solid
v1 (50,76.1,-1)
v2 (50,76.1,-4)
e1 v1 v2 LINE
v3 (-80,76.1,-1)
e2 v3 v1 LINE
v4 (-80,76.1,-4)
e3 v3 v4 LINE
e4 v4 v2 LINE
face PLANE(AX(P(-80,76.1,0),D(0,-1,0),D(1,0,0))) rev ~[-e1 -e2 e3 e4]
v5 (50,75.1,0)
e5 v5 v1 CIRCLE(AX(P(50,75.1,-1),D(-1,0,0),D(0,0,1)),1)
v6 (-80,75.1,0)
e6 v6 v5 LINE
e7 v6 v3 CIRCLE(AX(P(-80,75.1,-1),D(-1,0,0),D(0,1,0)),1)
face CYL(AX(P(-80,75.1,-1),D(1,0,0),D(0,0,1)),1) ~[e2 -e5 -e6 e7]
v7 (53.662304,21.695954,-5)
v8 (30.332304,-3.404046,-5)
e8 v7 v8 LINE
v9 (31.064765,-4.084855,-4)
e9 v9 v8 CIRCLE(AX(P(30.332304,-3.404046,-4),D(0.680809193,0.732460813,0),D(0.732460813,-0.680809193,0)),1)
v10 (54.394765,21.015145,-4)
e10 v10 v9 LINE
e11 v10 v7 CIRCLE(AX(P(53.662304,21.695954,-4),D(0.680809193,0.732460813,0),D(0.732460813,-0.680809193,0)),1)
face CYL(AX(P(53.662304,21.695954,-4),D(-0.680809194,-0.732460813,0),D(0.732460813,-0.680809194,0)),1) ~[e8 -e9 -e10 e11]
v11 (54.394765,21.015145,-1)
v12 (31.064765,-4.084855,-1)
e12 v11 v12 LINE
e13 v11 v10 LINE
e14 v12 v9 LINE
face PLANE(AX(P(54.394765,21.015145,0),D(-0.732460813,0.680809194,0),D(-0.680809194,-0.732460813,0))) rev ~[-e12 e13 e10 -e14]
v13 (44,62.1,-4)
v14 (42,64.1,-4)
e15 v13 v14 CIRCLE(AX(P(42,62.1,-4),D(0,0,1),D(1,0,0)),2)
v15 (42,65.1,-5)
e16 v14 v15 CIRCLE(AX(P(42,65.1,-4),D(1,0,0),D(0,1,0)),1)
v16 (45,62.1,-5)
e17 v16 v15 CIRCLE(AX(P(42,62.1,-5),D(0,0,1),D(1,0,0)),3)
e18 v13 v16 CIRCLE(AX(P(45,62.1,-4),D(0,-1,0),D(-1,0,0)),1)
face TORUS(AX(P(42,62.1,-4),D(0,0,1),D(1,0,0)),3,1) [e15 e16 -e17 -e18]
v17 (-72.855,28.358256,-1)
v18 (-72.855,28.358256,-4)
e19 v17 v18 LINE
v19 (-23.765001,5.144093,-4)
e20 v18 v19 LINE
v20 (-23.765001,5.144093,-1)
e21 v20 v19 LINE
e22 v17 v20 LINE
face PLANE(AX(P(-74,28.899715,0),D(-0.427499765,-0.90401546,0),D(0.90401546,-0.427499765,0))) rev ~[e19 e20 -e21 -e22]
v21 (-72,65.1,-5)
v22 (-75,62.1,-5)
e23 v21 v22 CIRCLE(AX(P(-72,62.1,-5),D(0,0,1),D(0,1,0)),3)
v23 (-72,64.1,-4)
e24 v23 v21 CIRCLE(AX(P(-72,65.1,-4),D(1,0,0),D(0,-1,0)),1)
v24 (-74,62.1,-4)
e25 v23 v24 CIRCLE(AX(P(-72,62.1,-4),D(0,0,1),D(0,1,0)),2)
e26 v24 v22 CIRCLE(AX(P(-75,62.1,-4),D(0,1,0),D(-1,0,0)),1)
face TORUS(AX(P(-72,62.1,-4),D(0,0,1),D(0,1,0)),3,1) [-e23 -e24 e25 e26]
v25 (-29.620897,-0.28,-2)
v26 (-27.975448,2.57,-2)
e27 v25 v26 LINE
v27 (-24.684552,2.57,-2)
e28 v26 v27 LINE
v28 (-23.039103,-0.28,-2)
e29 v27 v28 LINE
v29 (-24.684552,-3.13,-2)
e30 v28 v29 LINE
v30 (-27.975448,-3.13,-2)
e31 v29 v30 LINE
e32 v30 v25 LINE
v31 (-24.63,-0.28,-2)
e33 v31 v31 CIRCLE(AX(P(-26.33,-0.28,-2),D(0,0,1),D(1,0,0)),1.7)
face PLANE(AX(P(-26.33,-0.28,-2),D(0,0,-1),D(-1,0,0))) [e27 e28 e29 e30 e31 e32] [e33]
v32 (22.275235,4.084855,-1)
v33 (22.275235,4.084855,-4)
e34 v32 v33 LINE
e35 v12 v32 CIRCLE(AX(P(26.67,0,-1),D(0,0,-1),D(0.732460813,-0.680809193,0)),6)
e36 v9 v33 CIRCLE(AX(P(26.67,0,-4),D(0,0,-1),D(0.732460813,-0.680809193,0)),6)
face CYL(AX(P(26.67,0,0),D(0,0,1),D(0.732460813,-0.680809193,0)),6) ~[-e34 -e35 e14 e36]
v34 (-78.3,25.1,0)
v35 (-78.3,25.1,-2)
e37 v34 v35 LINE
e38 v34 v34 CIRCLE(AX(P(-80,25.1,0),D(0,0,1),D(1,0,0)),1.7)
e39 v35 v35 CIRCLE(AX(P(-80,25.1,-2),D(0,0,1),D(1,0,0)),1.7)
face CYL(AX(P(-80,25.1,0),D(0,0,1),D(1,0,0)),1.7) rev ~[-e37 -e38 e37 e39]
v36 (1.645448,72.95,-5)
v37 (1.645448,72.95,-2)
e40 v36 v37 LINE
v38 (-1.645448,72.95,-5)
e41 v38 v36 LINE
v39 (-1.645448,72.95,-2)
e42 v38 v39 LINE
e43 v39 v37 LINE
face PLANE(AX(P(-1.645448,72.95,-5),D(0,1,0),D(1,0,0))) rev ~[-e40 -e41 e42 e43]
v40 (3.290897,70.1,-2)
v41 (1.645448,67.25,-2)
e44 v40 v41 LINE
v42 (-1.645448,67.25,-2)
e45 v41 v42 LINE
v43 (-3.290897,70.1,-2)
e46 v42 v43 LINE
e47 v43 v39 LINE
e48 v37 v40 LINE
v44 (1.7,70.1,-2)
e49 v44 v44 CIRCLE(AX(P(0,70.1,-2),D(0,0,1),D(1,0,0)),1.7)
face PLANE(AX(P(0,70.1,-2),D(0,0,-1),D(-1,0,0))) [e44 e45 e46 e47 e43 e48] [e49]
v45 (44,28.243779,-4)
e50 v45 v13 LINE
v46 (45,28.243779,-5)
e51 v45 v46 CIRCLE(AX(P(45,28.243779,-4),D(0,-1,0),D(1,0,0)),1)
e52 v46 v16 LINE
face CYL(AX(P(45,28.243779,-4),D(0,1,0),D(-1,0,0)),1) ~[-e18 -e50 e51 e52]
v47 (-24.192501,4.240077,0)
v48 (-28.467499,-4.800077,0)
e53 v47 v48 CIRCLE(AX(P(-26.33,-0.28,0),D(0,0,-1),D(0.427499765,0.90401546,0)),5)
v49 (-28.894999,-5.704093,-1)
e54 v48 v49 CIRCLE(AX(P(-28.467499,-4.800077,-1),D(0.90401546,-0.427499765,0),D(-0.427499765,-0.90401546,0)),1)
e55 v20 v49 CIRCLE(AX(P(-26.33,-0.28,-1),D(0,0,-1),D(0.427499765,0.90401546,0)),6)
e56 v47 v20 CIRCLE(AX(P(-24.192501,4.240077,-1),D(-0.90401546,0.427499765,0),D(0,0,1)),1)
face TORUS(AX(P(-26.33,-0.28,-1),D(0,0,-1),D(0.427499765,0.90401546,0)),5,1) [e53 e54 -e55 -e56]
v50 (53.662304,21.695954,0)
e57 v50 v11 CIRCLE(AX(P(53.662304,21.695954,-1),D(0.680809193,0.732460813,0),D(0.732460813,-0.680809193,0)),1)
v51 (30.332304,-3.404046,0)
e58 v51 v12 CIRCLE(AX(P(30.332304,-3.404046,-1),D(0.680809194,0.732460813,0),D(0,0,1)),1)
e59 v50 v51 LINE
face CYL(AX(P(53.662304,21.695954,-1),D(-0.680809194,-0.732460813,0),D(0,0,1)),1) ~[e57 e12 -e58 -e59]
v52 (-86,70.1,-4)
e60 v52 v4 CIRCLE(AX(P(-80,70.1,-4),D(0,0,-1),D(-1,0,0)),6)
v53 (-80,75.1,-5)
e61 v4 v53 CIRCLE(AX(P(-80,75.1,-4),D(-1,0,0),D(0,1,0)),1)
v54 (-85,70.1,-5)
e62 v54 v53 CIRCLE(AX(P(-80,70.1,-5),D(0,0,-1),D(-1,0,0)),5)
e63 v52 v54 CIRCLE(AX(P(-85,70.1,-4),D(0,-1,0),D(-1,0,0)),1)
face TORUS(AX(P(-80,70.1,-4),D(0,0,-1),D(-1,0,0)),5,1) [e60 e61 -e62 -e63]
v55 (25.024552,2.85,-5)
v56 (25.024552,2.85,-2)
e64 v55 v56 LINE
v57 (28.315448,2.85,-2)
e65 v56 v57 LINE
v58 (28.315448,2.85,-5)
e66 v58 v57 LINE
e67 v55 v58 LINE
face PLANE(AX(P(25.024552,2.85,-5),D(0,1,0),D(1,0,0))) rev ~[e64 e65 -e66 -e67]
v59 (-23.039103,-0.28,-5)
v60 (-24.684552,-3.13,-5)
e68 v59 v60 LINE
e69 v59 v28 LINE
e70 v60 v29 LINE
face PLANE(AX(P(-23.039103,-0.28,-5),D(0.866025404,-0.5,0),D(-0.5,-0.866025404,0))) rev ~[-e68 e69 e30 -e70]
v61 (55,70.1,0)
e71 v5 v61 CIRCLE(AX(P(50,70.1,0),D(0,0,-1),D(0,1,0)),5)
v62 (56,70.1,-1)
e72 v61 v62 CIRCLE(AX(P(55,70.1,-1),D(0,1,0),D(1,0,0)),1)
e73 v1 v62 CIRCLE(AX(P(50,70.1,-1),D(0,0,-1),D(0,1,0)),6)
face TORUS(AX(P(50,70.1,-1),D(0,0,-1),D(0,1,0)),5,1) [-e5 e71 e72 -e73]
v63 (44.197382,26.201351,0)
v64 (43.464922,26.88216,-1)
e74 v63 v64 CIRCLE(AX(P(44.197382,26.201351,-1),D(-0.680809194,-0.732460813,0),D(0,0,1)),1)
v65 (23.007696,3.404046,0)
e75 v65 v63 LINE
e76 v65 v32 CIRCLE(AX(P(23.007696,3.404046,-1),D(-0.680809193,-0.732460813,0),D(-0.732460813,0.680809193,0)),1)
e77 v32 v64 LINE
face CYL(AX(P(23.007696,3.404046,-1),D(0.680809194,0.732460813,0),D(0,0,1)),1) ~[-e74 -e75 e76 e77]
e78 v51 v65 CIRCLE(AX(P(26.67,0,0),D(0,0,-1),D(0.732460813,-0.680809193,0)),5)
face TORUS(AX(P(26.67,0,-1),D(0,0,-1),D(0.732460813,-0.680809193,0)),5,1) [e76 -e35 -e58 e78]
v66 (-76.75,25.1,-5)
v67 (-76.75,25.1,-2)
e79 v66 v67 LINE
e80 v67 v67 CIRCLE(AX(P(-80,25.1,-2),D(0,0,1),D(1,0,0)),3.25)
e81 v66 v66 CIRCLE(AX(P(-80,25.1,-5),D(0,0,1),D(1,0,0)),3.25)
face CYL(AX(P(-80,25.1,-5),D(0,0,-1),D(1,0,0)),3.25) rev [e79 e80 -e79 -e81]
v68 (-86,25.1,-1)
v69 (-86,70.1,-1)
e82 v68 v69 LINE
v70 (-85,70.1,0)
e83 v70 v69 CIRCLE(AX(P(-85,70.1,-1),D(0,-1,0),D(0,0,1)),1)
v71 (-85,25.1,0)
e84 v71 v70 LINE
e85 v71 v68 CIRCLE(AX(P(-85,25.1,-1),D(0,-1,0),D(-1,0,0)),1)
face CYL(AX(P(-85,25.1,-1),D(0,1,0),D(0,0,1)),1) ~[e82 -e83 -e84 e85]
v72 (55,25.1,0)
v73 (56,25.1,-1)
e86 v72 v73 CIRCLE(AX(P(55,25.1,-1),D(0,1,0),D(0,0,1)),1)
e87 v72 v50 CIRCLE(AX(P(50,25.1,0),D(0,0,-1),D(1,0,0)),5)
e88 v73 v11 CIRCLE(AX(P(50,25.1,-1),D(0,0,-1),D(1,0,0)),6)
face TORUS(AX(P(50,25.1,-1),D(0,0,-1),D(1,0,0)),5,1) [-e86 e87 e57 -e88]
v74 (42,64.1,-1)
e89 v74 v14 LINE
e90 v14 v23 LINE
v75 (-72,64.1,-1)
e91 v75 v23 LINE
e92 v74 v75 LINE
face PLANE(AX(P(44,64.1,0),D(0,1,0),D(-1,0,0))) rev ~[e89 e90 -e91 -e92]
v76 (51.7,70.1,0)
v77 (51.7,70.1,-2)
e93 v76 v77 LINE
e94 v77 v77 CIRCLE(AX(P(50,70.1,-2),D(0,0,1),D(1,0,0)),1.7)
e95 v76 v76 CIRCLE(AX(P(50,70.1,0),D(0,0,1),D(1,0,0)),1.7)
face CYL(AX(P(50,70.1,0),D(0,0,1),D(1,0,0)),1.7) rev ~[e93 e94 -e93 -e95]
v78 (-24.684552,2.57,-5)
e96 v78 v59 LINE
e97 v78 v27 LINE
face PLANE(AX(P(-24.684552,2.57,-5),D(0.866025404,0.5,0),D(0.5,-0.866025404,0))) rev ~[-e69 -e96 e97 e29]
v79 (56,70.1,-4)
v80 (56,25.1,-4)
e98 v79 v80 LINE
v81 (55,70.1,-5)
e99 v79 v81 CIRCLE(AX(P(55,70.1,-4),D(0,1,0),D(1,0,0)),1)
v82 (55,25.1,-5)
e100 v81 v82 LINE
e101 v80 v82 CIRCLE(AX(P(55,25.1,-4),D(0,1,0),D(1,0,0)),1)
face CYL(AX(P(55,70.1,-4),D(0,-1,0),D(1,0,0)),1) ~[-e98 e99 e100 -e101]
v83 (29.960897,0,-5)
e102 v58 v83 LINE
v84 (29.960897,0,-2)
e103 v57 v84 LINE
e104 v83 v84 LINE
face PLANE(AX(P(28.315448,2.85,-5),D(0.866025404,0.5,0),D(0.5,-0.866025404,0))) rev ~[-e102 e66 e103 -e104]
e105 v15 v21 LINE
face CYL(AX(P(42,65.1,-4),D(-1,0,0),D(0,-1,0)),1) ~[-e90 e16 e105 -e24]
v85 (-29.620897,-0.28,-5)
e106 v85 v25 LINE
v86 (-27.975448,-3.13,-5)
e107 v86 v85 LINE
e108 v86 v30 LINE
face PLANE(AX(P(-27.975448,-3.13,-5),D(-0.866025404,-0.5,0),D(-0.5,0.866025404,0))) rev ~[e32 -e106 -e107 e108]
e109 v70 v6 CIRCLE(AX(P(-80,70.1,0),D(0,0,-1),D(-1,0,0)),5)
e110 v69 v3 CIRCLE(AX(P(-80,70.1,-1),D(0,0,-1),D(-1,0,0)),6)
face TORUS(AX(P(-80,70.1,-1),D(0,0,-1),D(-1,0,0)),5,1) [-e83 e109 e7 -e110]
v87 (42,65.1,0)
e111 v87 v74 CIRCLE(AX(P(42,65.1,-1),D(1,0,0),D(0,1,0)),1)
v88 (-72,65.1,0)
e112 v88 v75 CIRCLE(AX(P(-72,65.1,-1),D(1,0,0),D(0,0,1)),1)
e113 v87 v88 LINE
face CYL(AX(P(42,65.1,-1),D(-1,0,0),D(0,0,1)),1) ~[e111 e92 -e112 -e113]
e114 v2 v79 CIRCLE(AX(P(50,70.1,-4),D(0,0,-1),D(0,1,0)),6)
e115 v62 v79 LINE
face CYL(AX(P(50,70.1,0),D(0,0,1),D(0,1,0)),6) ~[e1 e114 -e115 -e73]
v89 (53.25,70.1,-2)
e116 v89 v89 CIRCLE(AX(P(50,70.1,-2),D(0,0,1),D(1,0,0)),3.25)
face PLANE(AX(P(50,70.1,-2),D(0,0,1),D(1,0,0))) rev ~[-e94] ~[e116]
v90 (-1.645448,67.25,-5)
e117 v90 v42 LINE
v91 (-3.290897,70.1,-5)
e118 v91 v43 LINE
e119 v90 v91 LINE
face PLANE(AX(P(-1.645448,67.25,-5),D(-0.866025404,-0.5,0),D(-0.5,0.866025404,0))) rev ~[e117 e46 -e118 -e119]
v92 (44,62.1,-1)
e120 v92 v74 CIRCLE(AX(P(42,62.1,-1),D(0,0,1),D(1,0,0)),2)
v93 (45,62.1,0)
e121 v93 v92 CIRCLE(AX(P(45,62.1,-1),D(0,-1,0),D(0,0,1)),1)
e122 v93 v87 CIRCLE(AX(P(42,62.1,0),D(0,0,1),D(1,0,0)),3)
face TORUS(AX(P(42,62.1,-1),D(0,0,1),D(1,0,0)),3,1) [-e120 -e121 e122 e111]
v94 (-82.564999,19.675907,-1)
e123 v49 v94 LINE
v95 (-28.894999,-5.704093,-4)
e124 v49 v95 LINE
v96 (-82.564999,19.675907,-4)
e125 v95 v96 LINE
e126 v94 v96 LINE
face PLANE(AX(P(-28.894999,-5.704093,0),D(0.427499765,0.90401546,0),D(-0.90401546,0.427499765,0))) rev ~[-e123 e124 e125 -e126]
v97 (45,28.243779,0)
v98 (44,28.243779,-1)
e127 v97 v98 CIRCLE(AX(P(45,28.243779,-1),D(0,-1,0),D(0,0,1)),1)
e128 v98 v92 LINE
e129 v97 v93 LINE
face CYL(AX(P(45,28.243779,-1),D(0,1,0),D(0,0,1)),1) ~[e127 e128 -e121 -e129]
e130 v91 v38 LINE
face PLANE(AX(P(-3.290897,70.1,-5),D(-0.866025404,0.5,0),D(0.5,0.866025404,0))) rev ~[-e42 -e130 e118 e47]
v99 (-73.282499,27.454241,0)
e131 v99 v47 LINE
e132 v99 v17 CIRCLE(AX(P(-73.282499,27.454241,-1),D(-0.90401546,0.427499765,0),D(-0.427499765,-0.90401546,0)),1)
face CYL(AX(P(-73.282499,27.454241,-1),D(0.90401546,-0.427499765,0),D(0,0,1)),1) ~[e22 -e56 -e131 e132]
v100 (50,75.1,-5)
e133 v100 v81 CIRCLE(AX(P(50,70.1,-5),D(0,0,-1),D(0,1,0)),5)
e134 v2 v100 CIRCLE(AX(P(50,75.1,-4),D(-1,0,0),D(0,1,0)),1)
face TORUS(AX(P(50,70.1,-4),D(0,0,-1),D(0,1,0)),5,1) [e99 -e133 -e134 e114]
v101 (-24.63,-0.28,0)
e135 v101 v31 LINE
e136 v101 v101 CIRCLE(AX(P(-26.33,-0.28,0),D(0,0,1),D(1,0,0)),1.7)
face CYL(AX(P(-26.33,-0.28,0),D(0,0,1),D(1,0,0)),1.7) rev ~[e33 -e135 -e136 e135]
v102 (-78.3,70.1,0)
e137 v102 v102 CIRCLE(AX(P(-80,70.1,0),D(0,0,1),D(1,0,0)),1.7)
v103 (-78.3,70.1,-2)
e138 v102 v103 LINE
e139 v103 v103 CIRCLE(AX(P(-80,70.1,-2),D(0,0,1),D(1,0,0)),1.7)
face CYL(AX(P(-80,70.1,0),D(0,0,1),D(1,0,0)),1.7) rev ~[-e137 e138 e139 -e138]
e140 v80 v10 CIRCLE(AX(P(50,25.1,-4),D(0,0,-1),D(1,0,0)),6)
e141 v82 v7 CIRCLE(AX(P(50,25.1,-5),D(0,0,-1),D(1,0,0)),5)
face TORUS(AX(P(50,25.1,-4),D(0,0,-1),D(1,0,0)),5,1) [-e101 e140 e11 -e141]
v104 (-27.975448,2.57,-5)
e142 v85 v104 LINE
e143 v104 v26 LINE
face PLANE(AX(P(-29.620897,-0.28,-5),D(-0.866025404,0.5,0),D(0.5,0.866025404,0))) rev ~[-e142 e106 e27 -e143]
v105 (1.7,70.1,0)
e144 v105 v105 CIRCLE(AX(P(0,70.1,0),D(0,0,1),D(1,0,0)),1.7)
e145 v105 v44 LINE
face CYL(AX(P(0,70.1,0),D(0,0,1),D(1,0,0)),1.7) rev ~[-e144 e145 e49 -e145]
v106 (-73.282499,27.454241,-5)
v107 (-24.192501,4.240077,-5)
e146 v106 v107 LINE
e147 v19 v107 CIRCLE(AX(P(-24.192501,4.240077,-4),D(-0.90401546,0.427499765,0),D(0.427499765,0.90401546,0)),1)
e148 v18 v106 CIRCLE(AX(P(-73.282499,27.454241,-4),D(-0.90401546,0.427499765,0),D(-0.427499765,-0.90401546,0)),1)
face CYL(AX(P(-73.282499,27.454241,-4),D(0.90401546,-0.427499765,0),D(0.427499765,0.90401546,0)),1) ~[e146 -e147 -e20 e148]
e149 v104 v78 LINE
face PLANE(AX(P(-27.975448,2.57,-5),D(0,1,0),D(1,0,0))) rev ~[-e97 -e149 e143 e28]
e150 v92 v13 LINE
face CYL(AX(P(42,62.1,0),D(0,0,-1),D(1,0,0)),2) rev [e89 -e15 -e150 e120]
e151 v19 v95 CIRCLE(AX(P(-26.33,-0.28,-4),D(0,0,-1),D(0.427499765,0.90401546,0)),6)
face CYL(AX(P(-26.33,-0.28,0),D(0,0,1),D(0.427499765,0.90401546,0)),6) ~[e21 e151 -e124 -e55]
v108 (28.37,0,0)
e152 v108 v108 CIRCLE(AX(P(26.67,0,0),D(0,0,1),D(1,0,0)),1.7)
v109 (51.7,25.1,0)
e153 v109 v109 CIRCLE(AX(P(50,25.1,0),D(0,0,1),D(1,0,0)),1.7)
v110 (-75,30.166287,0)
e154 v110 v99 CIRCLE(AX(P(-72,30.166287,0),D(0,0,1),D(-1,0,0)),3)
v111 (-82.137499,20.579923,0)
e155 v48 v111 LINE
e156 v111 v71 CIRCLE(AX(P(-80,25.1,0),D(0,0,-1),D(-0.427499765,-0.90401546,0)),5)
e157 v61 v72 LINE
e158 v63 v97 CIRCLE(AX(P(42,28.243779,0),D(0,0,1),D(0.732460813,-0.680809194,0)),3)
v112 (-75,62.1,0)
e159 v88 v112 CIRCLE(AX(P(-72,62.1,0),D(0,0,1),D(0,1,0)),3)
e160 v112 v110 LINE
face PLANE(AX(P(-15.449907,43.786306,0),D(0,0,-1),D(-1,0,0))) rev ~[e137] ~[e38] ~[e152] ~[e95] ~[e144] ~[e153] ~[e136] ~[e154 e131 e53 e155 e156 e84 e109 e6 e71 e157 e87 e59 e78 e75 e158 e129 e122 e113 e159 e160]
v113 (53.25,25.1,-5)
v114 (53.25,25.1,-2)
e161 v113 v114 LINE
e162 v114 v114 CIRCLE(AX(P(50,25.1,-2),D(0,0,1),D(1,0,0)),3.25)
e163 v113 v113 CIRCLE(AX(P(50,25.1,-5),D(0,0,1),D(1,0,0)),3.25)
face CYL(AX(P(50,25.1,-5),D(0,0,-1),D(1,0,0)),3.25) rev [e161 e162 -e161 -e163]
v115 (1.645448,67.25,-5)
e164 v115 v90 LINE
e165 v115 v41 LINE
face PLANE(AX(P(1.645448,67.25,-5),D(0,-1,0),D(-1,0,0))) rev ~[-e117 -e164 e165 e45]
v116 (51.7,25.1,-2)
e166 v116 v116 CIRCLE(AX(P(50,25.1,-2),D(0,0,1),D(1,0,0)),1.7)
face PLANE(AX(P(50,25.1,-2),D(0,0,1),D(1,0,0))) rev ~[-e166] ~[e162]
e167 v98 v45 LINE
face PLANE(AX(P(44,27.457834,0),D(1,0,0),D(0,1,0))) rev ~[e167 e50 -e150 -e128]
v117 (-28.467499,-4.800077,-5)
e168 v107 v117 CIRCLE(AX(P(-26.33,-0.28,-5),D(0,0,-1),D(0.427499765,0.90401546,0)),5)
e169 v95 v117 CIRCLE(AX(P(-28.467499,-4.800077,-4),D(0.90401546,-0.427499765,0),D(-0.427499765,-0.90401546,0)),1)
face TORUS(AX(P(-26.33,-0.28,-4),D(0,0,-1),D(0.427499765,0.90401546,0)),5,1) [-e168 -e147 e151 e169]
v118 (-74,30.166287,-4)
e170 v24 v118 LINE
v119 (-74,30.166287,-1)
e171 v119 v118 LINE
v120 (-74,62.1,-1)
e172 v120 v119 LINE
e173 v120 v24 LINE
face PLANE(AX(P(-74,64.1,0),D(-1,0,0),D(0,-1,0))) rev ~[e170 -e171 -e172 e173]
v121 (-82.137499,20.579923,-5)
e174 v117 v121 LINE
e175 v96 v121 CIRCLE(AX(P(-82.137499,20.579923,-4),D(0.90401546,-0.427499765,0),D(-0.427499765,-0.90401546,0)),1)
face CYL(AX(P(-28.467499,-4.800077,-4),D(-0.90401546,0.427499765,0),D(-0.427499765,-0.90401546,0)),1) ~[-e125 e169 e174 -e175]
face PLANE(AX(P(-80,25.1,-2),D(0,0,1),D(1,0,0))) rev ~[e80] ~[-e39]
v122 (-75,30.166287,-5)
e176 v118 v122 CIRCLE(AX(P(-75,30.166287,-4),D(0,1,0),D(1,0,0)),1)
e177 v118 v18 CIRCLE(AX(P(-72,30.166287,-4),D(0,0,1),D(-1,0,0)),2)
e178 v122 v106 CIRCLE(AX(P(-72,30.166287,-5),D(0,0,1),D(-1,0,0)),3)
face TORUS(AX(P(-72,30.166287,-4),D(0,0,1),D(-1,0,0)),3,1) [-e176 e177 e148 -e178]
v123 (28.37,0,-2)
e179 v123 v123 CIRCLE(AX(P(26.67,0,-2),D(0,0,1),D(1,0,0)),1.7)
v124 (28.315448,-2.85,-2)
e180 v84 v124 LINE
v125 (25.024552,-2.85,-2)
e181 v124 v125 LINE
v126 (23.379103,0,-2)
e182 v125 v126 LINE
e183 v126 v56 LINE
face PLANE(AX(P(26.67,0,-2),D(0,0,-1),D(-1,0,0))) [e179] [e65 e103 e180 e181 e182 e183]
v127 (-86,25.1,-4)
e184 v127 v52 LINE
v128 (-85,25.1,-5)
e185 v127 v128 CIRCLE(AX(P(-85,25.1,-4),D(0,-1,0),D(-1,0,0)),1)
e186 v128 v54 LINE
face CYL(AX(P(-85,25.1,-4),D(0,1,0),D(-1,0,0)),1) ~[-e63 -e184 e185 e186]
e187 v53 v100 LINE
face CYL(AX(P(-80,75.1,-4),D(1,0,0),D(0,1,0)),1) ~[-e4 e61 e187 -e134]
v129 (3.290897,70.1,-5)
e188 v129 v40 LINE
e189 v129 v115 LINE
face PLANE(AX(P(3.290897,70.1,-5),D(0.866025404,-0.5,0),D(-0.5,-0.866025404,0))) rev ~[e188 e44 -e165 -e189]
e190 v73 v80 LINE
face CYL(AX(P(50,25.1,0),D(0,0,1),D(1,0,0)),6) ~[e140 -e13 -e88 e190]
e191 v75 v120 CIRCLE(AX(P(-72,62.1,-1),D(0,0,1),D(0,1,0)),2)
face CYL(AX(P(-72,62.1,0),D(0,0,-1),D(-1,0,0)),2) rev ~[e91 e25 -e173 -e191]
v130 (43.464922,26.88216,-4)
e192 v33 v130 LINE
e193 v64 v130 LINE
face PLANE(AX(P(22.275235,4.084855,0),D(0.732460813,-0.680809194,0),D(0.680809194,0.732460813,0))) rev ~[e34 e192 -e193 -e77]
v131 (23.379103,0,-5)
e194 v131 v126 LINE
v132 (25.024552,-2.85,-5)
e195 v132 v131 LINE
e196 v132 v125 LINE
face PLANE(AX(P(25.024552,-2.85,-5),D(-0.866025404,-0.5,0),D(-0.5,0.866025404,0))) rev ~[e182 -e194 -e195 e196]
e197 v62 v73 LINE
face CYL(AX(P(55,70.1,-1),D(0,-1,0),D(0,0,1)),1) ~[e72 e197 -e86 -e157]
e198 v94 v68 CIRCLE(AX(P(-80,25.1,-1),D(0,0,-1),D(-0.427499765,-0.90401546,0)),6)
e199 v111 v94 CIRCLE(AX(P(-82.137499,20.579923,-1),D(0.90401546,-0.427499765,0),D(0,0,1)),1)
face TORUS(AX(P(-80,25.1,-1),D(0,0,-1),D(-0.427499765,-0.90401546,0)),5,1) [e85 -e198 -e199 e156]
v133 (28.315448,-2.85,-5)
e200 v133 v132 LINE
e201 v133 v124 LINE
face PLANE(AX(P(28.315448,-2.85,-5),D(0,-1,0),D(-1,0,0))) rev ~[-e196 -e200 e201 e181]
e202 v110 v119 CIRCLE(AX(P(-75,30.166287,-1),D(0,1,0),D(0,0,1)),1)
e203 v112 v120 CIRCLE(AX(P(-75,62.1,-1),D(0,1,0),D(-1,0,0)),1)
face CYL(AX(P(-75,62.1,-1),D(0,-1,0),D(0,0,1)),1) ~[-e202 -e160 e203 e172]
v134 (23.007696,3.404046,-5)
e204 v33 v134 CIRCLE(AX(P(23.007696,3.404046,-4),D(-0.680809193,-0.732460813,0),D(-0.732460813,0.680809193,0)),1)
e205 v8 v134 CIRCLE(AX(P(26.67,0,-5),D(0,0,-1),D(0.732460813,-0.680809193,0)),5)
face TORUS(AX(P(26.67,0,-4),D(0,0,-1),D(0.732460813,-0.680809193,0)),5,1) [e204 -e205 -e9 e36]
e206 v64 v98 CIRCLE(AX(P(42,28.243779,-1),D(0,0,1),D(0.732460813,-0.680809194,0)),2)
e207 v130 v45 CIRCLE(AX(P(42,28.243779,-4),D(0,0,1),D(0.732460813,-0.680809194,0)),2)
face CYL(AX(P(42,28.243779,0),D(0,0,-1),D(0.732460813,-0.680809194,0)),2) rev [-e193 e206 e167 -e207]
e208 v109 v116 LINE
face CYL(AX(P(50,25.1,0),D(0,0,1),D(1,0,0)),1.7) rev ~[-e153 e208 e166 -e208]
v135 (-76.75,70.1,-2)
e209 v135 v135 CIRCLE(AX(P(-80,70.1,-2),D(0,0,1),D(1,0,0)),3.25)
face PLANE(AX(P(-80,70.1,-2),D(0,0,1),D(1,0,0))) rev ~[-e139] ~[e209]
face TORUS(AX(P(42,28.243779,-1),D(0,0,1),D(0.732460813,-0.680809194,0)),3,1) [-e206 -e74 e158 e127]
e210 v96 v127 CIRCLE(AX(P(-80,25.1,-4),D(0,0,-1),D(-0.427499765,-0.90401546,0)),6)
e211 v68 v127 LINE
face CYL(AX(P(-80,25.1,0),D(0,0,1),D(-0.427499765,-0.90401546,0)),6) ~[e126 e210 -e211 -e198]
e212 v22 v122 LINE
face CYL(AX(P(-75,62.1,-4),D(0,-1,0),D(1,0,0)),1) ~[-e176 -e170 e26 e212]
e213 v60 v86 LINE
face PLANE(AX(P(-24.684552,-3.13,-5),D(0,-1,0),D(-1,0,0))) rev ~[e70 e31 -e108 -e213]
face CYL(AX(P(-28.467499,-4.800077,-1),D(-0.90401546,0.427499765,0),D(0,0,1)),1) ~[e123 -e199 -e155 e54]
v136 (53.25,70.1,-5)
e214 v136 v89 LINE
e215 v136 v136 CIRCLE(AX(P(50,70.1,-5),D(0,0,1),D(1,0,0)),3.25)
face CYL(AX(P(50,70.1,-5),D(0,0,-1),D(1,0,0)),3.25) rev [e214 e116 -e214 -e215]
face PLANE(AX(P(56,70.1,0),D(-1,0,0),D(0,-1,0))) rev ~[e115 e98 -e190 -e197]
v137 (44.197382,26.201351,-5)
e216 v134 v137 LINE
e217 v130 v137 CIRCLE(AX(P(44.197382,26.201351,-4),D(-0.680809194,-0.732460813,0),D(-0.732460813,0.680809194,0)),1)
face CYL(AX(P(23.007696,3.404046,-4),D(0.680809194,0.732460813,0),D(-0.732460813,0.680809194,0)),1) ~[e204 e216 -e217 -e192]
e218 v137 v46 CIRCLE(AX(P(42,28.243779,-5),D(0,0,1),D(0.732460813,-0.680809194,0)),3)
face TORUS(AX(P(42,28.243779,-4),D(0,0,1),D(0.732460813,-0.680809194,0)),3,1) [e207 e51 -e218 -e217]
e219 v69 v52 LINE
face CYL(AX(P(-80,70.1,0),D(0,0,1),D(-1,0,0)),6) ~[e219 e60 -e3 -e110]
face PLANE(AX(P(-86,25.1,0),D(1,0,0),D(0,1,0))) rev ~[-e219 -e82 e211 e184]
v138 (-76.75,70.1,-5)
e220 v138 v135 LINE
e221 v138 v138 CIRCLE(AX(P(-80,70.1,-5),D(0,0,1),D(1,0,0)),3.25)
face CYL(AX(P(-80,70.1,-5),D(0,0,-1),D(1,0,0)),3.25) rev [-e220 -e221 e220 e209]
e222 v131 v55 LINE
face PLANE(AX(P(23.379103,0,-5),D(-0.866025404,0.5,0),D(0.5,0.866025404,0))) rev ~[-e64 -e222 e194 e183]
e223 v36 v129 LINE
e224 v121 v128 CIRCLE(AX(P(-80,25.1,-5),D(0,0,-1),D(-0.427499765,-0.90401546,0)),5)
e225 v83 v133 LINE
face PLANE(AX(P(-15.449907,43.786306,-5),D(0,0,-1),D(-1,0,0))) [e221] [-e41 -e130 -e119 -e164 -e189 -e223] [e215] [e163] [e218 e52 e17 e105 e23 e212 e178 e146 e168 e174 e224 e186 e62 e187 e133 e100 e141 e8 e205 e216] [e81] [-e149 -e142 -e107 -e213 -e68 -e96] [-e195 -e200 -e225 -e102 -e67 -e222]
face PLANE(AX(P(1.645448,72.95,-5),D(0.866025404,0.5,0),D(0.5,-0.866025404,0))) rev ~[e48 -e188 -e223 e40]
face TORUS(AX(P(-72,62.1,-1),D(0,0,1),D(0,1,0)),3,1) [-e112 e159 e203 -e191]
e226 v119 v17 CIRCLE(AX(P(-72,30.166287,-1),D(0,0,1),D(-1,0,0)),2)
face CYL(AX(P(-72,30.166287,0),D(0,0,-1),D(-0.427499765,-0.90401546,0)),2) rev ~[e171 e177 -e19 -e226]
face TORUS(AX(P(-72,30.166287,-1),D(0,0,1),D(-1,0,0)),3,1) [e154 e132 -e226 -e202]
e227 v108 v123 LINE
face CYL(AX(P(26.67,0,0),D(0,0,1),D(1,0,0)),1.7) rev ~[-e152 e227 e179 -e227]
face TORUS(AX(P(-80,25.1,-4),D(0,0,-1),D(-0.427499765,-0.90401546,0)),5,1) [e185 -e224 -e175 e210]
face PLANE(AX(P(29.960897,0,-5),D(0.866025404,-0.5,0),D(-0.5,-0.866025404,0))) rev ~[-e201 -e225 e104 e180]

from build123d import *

# Parameters (mm, degrees)
ESQUISSE2_R             = 1.7
BOSS_EXTRU_1_DEPTH      = 5
ENL_V_START             = -5
ESQUISSE3_R             = 3.25
ENL_V_MAT_EXTRU_1_DEPTH = 3
CONG_1_R                = 2
CONG_2_R                = 1


with BuildPart() as part:
    # Esquisse2 → Boss.-Extru.1 (new body)
    with BuildSketch(Plane.XY):
        with BuildLine():
            Line((-80, 76.1), (50, 76.1))
            ThreePointArc((50, 76.1), (54.242640687, 74.342640687), (56, 70.1))
            Line((56, 70.1), (56, 25.1))
            ThreePointArc((56, 25.1), (55.584289984, 22.905528452), (54.394764876, 21.015144839))
            Line((54.394764876, 21.015144839), (31.064764876, -4.084855161))
            ThreePointArc((31.064764876, -4.084855161), (22.585144839, -4.394764876), (22.275235124, 4.084855161))
            Line((22.275235124, 4.084855161), (44, 27.457834089))
            Line((44, 27.457834089), (44, 64.1))
            Line((44, 64.1), (-74, 64.1))
            Line((-74, 64.1), (-74, 31.1))
            Line((-74, 31.1), (-74, 28.899715343))
            Line((-74, 28.899715343), (-23.765001412, 5.144092758))
            ThreePointArc((-23.765001412, 5.144092758), (-20.905907242, -2.844998588), (-28.894998588, -5.704092758))
            Line((-28.894998588, -5.704092758), (-82.564998588, 19.675907242))
            ThreePointArc((-82.564998588, 19.675907242), (-85.069023157, 21.889859156), (-86, 25.1))
            Line((-86, 25.1), (-86, 70.1))
            ThreePointArc((-86, 70.1), (-84.242640687, 74.342640687), (-80, 76.1))
        make_face()
        with Locations((0, 70.1)):
            Circle(ESQUISSE2_R, mode=Mode.SUBTRACT)
        with Locations((-26.33, -0.28)):
            Circle(ESQUISSE2_R, mode=Mode.SUBTRACT)
        with Locations((26.67, 0)):
            Circle(ESQUISSE2_R, mode=Mode.SUBTRACT)
        with Locations((-80, 25.1)):
            Circle(ESQUISSE2_R, mode=Mode.SUBTRACT)
        with Locations((50, 25.1)):
            Circle(ESQUISSE2_R, mode=Mode.SUBTRACT)
        with Locations((50, 70.1)):
            Circle(ESQUISSE2_R, mode=Mode.SUBTRACT)
        with Locations((-80, 70.1)):
            Circle(ESQUISSE2_R, mode=Mode.SUBTRACT)
    extrude(amount=-BOSS_EXTRU_1_DEPTH)

    # Esquisse3 → Enlèv. mat.-Extru.1 (cut)
    with BuildSketch(Plane.XY.offset(ENL_V_START)):
        with Locations((-80, 70.1)):
            Circle(ESQUISSE3_R)
        with Locations((-80, 25.1)):
            Circle(ESQUISSE3_R)
        with Locations((50, 25.1)):
            Circle(ESQUISSE3_R)
        with Locations((50, 70.1)):
            Circle(ESQUISSE3_R)
        Polygon((-27.975448267, 2.57), (-24.684551733, 2.57), (-23.039103466, -0.28), (-24.684551733, -3.13), (-27.975448267, -3.13), (-29.620896534, -0.28), align=None)
        Polygon((25.024551733, 2.85), (28.315448267, 2.85), (29.960896534, 0), (28.315448267, -2.85), (25.024551733, -2.85), (23.379103466, 0), align=None)
        Polygon((-1.645448267, 72.95), (1.645448267, 72.95), (3.290896534, 70.1), (1.645448267, 67.25), (-1.645448267, 67.25), (-3.290896534, 70.1), align=None)
    extrude(amount=ENL_V_MAT_EXTRU_1_DEPTH, mode=Mode.SUBTRACT)

    # Congé1
    cong_1_edges = [part.edges().sort_by_distance(p)[0] for p in [
        (44, 64.1, -2.5),
        (-74, 64.1, -2.5),
        (-74, 28.899715343, -2.5),
        (44, 27.457834089, -2.5),
    ]]
    fillet(cong_1_edges, radius=CONG_1_R)

    # Congé2
    cong_2_edges = [part.edges().sort_by_distance(p)[0] for p in [
        (22.585144839, -4.394764876, -5),
        (44, 45.171889392, 0),
        (44, 45.171889392, -5),
        (42.729764876, 8.465144839, -5),
        (32.870078375, 15.48350778, 0),
        (32.870078375, 15.48350778, -5),
        (-74, 46.133143562, 0),
        (-74, 46.133143562, -5),
        (-15, 64.1, 0),
        (-15, 64.1, -5),
        (43.861429995, 27.512288269, 0),
        (43.861429995, 27.512288269, -5),
        (-48.310000471, 16.751174481, 0),
        (-73.689674386, 29.096240176, 0),
        (-73.689674386, 29.096240176, -5),
        (-73.414213562, 63.514213562, 0),
        (-73.414213562, 63.514213562, -5),
        (43.414213562, 63.514213562, 0),
        (43.414213562, 63.514213562, -5),
        (-20.905907242, -2.844998588, 0),
        (-55.729998588, 6.985907242, 0),
        (-85.069023157, 21.889859156, 0),
        (-86, 47.6, 0),
        (-84.242640687, 74.342640687, 0),
        (-15, 76.1, 0),
        (54.242640687, 74.342640687, 0),
        (55.584289984, 22.905528452, -5),
        (56, 47.6, 0),
        (55.584289984, 22.905528452, 0),
        (42.729764876, 8.465144839, 0),
        (22.585144839, -4.394764876, 0),
        (56, 47.6, -5),
        (54.242640687, 74.342640687, -5),
        (-15, 76.1, -5),
        (-84.242640687, 74.342640687, -5),
        (-86, 47.6, -5),
        (-85.069023157, 21.889859156, -5),
        (-55.729998588, 6.985907242, -5),
        (-20.905907242, -2.844998588, -5),
        (-48.310000471, 16.751174481, -5),
    ]]
    fillet(cong_2_edges, radius=CONG_2_R)


solid = part.part
